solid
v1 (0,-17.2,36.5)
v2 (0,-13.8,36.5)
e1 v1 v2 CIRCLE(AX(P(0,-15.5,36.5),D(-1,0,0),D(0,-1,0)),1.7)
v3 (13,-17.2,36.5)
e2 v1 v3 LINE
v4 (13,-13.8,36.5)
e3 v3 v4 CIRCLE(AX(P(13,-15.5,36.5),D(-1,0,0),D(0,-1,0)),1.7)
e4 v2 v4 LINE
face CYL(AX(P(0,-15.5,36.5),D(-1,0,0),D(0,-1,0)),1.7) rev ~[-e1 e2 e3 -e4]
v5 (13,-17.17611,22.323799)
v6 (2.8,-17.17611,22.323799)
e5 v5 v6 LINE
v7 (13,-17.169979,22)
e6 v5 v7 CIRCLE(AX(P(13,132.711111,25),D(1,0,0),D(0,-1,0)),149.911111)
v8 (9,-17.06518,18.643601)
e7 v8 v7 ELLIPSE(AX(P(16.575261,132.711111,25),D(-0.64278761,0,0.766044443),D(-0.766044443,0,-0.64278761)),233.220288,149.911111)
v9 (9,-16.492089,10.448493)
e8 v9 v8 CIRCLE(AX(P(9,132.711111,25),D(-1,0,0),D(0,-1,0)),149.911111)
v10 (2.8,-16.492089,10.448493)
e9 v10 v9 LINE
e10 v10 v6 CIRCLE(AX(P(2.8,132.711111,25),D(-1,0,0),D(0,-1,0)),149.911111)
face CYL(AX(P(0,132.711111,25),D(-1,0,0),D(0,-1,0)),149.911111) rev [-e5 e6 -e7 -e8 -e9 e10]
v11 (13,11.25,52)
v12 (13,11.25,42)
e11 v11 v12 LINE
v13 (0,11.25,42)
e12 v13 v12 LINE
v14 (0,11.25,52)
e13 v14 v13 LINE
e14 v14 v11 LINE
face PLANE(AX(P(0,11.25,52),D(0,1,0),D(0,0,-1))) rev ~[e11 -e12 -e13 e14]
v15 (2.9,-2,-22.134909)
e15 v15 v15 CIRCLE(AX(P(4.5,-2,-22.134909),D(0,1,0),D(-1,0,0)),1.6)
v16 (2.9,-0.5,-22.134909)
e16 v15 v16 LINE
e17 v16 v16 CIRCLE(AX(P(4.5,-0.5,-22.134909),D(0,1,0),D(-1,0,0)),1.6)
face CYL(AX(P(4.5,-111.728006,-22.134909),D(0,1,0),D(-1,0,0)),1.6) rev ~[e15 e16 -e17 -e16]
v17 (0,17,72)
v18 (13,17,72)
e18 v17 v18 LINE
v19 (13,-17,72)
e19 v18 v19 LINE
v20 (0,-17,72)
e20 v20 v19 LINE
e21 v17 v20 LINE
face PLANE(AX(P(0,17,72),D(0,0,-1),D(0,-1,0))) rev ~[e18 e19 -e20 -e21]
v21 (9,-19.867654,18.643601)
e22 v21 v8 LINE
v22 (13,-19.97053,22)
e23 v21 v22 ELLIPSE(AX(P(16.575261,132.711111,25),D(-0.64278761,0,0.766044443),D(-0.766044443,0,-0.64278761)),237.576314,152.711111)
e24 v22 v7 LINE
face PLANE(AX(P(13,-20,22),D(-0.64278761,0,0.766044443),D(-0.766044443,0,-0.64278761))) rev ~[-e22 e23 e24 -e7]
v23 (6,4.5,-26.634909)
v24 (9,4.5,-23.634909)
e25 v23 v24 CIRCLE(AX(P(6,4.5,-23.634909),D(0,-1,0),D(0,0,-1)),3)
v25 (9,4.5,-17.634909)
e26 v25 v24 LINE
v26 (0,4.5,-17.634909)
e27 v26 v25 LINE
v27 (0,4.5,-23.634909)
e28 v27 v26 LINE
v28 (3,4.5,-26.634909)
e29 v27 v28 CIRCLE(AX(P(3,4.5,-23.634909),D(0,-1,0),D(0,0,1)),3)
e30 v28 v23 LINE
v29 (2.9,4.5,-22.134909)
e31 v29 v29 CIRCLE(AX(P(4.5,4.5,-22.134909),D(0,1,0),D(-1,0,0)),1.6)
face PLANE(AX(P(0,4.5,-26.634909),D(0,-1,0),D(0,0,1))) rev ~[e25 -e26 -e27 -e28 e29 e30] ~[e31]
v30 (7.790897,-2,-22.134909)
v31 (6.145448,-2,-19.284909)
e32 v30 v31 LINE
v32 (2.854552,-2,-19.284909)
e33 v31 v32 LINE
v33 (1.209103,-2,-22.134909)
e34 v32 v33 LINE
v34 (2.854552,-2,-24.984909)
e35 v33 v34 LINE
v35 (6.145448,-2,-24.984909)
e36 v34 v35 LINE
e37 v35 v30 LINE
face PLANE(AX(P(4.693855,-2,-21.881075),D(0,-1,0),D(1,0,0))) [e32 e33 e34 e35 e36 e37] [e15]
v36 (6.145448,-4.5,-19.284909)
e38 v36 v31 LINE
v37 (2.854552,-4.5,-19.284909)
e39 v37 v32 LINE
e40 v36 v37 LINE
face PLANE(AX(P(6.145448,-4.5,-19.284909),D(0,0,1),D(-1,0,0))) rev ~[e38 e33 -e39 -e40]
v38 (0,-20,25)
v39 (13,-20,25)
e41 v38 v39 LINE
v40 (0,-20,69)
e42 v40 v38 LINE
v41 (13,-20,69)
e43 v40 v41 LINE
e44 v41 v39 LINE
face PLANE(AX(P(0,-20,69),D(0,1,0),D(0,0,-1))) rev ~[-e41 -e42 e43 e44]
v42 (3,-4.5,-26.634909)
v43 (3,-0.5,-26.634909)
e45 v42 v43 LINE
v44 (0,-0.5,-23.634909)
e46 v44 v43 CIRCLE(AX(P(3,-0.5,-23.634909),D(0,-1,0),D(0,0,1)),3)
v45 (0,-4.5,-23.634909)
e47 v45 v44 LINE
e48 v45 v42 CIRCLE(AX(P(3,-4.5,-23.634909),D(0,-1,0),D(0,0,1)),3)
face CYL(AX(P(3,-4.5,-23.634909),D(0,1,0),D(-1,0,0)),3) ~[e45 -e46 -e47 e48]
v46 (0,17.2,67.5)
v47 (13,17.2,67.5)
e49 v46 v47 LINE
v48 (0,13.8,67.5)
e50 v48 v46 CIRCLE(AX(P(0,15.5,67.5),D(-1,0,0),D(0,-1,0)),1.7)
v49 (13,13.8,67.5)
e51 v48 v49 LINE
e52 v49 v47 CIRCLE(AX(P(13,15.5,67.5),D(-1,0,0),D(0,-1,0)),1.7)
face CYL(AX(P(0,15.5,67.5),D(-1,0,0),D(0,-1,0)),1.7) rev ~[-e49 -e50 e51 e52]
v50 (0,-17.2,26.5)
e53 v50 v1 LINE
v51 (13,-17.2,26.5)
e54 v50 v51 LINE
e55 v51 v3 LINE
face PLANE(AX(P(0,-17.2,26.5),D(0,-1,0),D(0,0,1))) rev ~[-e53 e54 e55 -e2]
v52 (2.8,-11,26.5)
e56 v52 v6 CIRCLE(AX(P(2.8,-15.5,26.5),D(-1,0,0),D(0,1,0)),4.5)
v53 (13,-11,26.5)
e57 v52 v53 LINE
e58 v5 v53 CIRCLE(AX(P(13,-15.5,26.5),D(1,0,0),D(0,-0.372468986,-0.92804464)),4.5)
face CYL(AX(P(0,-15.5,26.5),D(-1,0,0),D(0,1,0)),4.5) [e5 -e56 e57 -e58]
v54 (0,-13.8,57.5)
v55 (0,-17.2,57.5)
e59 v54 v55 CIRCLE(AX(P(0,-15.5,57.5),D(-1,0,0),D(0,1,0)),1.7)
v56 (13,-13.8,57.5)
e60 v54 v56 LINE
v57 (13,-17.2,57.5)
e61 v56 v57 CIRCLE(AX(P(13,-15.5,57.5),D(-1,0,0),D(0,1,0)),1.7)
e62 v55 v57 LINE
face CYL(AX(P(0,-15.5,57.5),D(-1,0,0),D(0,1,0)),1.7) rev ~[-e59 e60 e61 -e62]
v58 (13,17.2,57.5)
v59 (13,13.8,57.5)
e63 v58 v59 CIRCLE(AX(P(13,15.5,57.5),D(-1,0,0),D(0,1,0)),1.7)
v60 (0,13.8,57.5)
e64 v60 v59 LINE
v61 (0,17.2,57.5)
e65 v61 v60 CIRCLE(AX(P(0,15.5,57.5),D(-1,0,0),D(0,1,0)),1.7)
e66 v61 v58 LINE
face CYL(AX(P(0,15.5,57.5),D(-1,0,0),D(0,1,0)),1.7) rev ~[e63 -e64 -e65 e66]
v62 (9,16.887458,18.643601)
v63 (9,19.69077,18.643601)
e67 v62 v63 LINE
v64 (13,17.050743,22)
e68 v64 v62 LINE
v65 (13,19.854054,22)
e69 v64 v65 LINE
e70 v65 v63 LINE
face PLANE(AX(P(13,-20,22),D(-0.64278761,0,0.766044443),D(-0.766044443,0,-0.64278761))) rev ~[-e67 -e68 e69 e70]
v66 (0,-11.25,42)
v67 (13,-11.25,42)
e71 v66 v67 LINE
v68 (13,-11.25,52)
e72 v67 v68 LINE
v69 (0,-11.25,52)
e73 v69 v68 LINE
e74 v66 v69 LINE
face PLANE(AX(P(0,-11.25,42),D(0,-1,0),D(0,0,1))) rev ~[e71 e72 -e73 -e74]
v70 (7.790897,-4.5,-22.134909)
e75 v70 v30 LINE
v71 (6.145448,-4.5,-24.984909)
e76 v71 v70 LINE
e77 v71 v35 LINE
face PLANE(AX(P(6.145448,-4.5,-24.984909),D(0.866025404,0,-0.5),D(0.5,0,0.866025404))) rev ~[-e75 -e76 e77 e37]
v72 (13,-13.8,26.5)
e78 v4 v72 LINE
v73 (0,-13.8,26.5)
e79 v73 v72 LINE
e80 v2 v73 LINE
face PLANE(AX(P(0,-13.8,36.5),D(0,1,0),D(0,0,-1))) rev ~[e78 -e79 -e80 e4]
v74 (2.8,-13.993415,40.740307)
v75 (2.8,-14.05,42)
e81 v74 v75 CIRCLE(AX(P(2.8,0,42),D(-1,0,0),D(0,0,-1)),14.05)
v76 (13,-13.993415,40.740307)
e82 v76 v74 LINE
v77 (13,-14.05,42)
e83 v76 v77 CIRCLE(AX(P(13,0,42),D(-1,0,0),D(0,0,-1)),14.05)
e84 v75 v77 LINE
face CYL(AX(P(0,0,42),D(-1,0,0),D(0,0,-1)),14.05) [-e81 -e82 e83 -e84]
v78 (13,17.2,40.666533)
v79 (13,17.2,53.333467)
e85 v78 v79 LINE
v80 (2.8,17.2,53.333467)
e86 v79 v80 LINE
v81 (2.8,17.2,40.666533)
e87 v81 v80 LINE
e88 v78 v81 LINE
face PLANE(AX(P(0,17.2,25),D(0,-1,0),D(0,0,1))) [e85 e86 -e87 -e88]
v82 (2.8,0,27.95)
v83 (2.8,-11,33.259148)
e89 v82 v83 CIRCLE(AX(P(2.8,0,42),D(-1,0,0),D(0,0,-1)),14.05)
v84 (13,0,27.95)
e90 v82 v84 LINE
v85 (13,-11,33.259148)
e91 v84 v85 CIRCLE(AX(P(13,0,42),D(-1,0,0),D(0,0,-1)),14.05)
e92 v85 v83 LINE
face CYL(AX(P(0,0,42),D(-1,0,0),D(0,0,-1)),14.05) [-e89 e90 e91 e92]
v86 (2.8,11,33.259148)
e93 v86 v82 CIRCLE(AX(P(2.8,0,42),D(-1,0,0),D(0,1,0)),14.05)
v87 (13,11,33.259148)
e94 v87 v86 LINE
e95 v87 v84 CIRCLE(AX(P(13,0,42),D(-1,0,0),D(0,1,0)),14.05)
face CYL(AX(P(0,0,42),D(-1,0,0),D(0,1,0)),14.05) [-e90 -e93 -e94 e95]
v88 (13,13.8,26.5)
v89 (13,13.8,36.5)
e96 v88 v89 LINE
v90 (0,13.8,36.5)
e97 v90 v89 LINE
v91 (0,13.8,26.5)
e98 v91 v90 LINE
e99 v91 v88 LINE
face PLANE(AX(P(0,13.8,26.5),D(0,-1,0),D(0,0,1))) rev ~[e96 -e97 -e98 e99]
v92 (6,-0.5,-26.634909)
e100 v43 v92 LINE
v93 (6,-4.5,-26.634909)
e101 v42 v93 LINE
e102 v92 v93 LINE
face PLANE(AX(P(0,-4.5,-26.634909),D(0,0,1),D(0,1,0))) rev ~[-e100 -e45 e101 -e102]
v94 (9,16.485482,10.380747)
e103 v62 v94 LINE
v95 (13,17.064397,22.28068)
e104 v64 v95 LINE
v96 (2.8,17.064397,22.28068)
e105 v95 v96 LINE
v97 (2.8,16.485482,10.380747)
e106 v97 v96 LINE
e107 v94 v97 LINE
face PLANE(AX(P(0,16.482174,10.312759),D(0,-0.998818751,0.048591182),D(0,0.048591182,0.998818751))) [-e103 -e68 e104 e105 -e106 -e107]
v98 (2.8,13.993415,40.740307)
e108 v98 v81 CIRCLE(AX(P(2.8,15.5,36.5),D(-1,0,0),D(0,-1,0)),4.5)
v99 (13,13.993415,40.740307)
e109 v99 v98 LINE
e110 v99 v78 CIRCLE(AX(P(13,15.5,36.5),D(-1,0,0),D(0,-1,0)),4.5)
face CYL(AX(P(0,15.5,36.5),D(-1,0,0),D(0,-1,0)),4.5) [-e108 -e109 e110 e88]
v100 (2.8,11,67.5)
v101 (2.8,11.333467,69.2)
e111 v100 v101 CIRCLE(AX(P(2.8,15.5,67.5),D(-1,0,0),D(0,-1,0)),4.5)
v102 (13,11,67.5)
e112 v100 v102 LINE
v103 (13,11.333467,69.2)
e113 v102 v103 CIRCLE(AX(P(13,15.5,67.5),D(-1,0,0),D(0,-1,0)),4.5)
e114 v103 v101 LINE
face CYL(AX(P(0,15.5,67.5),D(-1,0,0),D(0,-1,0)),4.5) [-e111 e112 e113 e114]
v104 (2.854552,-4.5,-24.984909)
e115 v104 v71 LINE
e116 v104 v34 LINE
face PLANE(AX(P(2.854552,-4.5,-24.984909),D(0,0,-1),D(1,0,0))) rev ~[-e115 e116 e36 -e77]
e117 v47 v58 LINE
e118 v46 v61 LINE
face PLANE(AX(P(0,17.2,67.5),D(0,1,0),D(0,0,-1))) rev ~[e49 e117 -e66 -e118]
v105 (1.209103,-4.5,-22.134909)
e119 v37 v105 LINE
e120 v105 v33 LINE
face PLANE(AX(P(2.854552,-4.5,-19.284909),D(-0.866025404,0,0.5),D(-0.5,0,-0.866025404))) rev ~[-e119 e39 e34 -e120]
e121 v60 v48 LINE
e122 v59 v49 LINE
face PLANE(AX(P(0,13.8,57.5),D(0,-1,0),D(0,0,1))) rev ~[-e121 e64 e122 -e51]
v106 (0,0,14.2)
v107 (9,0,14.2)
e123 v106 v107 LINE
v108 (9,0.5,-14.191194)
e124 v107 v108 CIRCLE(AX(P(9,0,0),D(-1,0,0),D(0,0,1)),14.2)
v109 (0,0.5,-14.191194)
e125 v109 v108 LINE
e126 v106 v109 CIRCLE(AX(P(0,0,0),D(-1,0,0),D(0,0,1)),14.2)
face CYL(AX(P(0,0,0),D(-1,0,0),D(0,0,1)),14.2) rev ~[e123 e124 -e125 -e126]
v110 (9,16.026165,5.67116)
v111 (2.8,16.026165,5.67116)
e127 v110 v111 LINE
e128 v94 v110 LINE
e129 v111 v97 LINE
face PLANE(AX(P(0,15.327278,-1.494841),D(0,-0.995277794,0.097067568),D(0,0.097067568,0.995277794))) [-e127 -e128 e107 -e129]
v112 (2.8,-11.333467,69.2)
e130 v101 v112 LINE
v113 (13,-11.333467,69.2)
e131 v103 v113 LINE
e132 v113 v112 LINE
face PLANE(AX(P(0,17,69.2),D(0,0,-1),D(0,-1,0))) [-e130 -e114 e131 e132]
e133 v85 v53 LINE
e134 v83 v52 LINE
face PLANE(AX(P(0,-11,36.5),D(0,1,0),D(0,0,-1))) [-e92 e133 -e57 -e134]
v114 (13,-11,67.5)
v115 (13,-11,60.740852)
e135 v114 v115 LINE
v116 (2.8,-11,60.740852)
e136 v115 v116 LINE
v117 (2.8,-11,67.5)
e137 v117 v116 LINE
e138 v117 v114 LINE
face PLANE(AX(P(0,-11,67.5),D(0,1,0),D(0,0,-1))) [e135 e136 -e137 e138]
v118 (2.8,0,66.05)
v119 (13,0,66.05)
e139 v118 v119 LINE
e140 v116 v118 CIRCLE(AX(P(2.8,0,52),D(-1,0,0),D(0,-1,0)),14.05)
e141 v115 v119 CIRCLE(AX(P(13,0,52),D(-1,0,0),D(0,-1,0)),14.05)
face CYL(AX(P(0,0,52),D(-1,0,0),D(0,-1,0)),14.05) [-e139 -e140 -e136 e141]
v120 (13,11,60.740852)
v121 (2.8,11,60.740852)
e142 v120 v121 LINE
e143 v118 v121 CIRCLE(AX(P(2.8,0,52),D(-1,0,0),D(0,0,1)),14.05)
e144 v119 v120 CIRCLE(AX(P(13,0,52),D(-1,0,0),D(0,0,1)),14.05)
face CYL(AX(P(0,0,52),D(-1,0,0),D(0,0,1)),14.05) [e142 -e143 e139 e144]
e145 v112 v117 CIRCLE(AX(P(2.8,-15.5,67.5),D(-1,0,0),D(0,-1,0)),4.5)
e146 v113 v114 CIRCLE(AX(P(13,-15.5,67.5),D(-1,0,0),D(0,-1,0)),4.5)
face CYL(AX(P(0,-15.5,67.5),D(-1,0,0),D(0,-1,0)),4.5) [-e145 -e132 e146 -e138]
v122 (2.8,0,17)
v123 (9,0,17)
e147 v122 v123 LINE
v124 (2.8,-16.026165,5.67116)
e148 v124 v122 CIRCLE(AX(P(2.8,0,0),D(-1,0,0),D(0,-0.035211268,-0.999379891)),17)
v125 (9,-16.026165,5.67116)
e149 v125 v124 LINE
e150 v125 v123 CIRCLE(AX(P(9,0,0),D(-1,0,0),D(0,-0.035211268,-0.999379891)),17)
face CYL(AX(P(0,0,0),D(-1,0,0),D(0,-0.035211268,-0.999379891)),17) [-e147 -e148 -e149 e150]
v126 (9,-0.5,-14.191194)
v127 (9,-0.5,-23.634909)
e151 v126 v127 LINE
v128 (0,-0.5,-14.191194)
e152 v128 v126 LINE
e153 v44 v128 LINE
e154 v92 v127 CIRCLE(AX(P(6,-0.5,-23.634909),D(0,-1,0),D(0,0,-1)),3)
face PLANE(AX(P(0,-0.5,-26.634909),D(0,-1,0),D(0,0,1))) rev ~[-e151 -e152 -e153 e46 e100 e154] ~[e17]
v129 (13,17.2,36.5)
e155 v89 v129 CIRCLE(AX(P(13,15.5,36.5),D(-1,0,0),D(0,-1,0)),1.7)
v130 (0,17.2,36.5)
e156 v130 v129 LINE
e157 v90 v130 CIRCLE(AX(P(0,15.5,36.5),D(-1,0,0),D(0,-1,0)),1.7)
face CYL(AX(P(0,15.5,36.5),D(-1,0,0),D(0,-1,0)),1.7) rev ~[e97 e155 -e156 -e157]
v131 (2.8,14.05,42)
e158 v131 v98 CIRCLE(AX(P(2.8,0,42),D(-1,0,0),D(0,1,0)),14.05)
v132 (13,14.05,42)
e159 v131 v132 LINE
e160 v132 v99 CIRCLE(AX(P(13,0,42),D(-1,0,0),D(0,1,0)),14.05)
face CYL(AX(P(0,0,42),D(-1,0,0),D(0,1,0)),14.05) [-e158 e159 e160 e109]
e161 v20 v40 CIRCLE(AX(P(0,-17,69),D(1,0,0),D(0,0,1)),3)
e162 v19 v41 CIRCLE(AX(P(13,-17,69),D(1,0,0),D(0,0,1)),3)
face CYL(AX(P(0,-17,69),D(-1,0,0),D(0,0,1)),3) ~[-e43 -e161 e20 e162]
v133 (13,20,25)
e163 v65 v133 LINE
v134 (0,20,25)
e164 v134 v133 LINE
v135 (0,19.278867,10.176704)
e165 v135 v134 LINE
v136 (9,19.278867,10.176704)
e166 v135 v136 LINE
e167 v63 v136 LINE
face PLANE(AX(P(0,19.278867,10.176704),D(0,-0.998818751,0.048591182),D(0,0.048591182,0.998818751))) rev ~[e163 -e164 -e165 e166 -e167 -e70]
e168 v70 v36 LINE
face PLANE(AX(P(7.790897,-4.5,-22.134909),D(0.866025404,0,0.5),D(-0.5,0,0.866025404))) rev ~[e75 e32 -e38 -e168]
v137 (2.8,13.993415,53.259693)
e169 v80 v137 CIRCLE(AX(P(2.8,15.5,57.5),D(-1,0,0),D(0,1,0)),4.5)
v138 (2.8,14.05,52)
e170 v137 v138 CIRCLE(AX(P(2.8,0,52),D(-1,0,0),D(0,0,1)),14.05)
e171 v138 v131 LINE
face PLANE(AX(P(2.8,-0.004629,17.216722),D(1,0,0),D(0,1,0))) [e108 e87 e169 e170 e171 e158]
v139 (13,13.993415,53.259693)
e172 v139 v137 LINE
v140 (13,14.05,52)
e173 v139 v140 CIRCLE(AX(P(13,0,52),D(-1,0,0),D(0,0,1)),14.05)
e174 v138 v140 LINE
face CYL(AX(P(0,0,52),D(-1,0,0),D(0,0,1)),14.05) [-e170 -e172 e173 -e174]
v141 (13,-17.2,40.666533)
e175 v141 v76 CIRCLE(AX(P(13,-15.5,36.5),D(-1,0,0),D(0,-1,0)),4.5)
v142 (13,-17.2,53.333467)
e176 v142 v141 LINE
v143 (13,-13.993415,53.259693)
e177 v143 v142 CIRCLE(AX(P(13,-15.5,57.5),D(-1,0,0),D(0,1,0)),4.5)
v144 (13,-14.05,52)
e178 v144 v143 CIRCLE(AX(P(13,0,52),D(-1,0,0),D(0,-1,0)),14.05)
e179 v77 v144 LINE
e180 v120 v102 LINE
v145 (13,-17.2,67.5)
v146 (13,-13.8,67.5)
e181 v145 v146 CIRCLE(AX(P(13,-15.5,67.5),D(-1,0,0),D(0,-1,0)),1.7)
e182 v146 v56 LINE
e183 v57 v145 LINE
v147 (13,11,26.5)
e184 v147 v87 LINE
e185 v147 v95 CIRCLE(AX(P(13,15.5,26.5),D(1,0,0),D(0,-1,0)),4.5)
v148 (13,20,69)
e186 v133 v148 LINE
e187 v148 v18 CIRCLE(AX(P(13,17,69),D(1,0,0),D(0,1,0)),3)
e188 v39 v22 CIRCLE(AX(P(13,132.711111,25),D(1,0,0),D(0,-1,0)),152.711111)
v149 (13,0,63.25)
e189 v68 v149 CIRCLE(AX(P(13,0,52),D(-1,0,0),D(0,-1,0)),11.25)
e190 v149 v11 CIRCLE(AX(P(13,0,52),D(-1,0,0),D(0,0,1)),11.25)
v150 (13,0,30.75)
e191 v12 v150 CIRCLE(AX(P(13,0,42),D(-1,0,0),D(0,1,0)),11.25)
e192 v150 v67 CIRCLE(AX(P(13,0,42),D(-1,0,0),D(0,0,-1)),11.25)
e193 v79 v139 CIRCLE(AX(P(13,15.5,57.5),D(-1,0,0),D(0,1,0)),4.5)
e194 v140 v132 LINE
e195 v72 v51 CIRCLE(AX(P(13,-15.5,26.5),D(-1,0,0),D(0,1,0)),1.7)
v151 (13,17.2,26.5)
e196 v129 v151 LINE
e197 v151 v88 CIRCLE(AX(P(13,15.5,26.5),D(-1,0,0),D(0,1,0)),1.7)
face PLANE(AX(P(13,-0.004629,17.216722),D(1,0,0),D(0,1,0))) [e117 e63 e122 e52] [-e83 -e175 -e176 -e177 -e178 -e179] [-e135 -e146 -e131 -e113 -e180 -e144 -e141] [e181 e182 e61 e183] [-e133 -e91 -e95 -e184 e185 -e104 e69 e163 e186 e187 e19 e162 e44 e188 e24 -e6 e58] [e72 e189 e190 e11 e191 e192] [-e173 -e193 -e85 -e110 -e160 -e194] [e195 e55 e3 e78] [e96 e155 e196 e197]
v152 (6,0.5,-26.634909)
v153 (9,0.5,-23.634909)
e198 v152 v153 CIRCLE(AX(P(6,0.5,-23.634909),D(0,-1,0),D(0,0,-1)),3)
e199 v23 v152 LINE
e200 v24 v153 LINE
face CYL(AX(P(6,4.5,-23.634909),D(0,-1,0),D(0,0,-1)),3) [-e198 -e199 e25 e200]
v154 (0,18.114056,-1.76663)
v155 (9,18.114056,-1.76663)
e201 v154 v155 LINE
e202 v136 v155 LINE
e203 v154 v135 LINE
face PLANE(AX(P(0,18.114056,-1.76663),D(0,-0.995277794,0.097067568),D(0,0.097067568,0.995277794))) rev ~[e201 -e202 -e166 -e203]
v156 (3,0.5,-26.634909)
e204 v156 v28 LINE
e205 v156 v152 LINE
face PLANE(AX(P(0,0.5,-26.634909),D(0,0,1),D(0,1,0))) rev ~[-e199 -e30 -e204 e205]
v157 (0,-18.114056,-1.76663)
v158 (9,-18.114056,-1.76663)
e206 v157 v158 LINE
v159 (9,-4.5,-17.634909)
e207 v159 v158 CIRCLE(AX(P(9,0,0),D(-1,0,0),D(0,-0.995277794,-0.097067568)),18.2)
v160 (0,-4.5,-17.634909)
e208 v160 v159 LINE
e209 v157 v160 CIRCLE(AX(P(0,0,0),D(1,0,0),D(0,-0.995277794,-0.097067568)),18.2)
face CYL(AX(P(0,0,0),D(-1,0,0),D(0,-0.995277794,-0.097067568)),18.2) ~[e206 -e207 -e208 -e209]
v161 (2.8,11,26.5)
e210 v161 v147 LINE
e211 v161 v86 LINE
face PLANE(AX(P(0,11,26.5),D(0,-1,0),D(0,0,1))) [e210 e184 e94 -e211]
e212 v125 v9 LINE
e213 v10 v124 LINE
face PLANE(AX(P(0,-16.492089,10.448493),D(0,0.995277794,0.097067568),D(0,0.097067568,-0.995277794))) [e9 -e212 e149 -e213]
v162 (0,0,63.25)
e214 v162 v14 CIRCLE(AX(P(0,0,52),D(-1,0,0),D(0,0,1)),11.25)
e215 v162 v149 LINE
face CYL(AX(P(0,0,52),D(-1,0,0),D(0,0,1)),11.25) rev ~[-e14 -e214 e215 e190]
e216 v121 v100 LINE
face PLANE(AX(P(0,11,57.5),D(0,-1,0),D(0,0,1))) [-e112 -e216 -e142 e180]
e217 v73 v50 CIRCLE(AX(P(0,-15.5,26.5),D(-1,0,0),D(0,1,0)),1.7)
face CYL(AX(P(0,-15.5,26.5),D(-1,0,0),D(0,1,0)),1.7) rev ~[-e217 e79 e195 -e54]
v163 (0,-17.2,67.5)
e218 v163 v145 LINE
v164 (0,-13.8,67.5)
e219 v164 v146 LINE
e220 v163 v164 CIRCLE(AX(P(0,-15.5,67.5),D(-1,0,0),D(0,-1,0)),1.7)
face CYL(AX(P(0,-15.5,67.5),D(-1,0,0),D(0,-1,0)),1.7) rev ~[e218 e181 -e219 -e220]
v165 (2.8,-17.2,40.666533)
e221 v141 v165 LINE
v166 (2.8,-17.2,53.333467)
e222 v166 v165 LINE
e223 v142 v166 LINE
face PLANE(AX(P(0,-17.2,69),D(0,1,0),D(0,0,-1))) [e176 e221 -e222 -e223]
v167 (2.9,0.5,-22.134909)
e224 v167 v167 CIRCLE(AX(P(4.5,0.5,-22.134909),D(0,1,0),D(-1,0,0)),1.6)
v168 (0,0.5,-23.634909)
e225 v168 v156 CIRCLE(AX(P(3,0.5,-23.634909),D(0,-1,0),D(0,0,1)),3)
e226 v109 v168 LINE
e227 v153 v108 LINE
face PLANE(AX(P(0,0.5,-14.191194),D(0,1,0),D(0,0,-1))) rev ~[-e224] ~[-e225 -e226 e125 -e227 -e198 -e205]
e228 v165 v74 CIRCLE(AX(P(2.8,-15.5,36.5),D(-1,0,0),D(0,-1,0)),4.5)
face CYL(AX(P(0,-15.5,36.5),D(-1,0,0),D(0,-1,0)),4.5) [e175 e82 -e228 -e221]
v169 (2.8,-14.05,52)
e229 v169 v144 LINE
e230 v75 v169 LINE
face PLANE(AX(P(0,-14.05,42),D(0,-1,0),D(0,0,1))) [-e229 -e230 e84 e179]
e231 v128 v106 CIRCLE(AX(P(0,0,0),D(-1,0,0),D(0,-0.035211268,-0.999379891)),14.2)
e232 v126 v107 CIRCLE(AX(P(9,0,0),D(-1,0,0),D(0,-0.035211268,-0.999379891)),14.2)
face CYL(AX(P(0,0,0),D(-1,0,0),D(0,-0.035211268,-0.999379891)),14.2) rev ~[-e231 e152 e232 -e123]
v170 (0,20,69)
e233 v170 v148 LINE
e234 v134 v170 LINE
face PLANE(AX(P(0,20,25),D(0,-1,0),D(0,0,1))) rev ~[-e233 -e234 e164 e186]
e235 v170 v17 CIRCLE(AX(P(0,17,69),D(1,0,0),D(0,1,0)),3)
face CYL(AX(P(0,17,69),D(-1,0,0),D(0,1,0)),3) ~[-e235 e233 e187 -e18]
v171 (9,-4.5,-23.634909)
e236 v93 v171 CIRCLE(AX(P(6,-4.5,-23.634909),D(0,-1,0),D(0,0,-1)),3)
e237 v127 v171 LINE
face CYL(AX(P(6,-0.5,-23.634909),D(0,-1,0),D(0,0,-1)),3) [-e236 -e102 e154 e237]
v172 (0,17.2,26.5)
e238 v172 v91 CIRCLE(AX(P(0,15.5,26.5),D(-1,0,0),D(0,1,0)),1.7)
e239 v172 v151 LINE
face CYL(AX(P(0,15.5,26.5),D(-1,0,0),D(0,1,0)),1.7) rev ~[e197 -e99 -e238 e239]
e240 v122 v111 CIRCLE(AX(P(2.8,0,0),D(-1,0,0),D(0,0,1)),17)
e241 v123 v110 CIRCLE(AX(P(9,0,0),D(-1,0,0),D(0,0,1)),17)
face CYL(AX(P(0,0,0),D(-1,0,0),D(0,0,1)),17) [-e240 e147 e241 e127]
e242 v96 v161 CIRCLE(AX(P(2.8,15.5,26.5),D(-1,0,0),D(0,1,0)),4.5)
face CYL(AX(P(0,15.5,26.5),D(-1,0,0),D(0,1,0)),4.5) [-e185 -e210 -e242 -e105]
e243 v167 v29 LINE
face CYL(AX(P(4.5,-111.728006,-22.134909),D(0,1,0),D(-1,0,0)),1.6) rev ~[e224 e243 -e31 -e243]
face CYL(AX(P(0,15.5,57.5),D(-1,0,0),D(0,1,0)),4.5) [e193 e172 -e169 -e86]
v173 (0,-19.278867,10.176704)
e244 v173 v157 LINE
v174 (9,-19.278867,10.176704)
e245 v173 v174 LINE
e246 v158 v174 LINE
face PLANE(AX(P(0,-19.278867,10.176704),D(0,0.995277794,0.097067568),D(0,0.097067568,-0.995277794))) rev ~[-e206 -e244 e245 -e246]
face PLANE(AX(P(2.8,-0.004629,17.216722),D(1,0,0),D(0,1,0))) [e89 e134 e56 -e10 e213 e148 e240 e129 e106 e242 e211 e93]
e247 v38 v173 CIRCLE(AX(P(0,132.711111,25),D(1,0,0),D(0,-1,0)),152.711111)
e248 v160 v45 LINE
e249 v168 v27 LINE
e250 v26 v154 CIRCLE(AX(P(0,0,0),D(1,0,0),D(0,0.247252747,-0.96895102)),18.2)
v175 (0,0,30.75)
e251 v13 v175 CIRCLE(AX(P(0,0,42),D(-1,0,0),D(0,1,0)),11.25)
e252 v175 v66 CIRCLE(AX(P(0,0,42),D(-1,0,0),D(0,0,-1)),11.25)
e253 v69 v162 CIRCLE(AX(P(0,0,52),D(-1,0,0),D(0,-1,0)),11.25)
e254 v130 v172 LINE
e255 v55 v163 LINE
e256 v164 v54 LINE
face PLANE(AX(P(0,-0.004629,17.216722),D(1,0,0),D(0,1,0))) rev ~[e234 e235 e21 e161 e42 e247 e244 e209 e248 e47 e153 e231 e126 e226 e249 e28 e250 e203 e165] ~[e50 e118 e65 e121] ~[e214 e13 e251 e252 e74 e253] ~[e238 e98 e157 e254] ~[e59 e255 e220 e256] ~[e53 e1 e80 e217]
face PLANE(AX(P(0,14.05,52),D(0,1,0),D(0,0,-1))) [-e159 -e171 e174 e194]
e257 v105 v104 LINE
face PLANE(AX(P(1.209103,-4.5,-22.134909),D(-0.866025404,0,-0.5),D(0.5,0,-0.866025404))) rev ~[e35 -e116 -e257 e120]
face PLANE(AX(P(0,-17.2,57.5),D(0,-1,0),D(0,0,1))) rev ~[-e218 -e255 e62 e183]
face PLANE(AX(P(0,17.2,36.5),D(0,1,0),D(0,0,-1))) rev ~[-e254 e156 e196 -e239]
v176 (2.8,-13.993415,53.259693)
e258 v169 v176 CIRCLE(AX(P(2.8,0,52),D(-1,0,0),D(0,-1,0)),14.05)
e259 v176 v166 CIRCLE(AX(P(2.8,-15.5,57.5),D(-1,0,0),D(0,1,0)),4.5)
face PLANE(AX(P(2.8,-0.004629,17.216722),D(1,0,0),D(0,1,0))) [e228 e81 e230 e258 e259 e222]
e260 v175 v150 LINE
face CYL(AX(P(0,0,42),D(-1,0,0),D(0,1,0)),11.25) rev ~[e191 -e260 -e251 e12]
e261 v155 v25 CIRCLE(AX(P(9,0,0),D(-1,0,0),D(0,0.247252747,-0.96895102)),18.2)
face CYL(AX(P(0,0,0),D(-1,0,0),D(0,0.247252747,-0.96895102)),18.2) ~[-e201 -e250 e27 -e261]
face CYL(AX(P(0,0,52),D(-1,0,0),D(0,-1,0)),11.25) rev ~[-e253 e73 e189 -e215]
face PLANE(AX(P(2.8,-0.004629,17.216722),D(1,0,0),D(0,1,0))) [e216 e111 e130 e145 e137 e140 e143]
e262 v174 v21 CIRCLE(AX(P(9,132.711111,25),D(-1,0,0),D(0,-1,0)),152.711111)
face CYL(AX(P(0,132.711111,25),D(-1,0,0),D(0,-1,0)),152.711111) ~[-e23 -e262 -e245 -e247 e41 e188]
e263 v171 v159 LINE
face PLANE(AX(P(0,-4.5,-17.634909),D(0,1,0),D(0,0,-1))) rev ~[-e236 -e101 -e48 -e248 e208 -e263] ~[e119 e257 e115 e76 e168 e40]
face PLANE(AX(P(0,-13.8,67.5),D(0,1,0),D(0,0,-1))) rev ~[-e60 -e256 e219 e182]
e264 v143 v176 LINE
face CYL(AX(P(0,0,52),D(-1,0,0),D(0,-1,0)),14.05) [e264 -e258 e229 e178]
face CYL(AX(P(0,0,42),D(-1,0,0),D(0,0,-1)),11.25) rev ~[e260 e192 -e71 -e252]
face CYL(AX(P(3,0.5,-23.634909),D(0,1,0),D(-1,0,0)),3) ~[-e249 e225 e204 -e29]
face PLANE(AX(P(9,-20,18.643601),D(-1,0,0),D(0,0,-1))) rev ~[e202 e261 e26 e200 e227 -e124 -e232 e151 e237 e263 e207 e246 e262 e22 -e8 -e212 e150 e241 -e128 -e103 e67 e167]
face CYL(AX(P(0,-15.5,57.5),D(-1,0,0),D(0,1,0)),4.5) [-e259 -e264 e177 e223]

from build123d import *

# Parameters (mm, degrees)
F1_DEPTH = 13
F3_D     = 3.2
F4_T     = -2.8
F6_DEPTH = 40.001
F7_DEPTH = 2.5
F8_R     = 3


with BuildPart() as f1:
    # F0 (on Right) → F1 (new body)
    with BuildSketch(Plane.YZ):
        with BuildLine():
            ThreePointArc((-17, 72), (-19.1213203436, 71.1213203436), (-20, 69))
            Line((-20, 69), (-20, 25))
            ThreePointArc((-20, 25), (-19.8196101249, 17.5795865345), (-19.2788666706, 10.1767037836))
            Line((-19.2788666706, 10.1767037836), (-18.1140558503, -1.7666297441))
            ThreePointArc((-18.1140558503, -1.7666297441), (-13.8130173627, -11.8507616353), (-4.5, -17.6349085623))
            Line((-4.5, -17.6349085623), (-4.5, -26.6349085623))
            Line((-4.5, -26.6349085623), (-0.5, -26.6349085623))
            Line((-0.5, -26.6349085623), (-0.5, -14.1911944529))
            ThreePointArc((-0.5, -14.1911944529), (-14.1977984426, 0.2500387658), (0, 14.2))
            ThreePointArc((0, 14.2), (14.1977984426, 0.2500387658), (0.5, -14.1911944529))
            Line((0.5, -14.1911944529), (0.5, -26.6349085623))
            Line((0.5, -26.6349085623), (4.5, -26.6349085623))
            Line((4.5, -26.6349085623), (4.5, -17.6349085623))
            ThreePointArc((4.5, -17.6349085623), (13.8130173627, -11.8507616353), (18.1140558503, -1.7666297441))
            Line((18.1140558503, -1.7666297441), (19.2788666706, 10.1767037836))
            Line((19.2788666706, 10.1767037836), (20, 25))
            Line((20, 25), (20, 69))
            ThreePointArc((20, 69), (19.1213203436, 71.1213203436), (17, 72))
            Line((17, 72), (0, 72))
            Line((0, 72), (-17, 72))
        make_face()
        with BuildLine():
            Line((-17.2, 26.5), (-17.2, 36.5))
            ThreePointArc((-17.2, 36.5), (-15.5, 38.2), (-13.8, 36.5))
            Line((-13.8, 36.5), (-13.8, 26.5))
            ThreePointArc((-13.8, 26.5), (-15.5, 24.8), (-17.2, 26.5))
        make_face(mode=Mode.SUBTRACT)
        with BuildLine():
            Line((-17.2, 57.5), (-17.2, 67.5))
            ThreePointArc((-17.2, 67.5), (-15.5, 69.2), (-13.8, 67.5))
            Line((-13.8, 67.5), (-13.8, 57.5))
            ThreePointArc((-13.8, 57.5), (-15.5, 55.8), (-17.2, 57.5))
        make_face(mode=Mode.SUBTRACT)
        with BuildLine():
            ThreePointArc((-11.25, 52), (-7.9549512883, 59.9549512883), (0, 63.25))
            ThreePointArc((0, 63.25), (7.9549512883, 59.9549512883), (11.25, 52))
            Line((11.25, 52), (11.25, 42))
            ThreePointArc((11.25, 42), (7.9549512883, 34.0450487117), (0, 30.75))
            ThreePointArc((0, 30.75), (-7.9549512883, 34.0450487117), (-11.25, 42))
            Line((-11.25, 42), (-11.25, 52))
        make_face(mode=Mode.SUBTRACT)
        with BuildLine():
            ThreePointArc((17.2, 26.5), (15.5, 24.8), (13.8, 26.5))
            Line((13.8, 26.5), (13.8, 36.5))
            ThreePointArc((13.8, 36.5), (15.5, 38.2), (17.2, 36.5))
            Line((17.2, 36.5), (17.2, 26.5))
        make_face(mode=Mode.SUBTRACT)
        with BuildLine():
            Line((17.2, 67.5), (17.2, 57.5))
            ThreePointArc((17.2, 57.5), (15.5, 55.8), (13.8, 57.5))
            Line((13.8, 57.5), (13.8, 67.5))
            ThreePointArc((13.8, 67.5), (15.5, 69.2), (17.2, 67.5))
        make_face(mode=Mode.SUBTRACT)
    extrude(amount=F1_DEPTH)

    # F3 (through all)
    with Locations(Plane.XZ.offset(4.5)):
        with Locations((4.5, -22.1349085623)):
            Hole(F3_D / 2)

    # F4
    f4_openings = [f1.faces().sort_by_distance(p)[0] for p in [
        (13, -0.017595, 30.158795),
    ]]
    offset(amount=F4_T, openings=f4_openings)

    # F5 (on face) → F6 (cut, through all)
    with BuildSketch(Plane.XZ.offset(20)):
        Polygon((13, -28), (13, 22), (9, 18.6436014753), (9, -28), align=None)
    extrude(amount=-F6_DEPTH, mode=Mode.SUBTRACT)

    # F2 (on face) → F7 (cut)
    with BuildSketch(Plane.XZ.offset(4.5)):
        Polygon((6.1454482672, -19.2849085623), (2.8545517328, -19.2849085623), (1.2091034656, -22.1349085623), (4.5, -22.1349085623), (4.5, -24.9849085623), (6.1454482672, -24.9849085623), (7.7908965344, -22.1349085623), align=None)
        Polygon((4.5, -22.1349085623), (1.2091034656, -22.1349085623), (2.8545517328, -24.9849085623), (4.5, -24.9849085623), align=None)
    extrude(amount=-F7_DEPTH, mode=Mode.SUBTRACT)

    # F8
    f8_edges = [f1.edges().sort_by_distance(p)[0] for p in [
        (0, -2.5, -26.634909),
        (0, 2.5, -26.634909),
        (9, -2.5, -26.634909),
        (9, 2.5, -26.634909),
    ]]
    fillet(f8_edges, radius=F8_R)


solid = f1.part
